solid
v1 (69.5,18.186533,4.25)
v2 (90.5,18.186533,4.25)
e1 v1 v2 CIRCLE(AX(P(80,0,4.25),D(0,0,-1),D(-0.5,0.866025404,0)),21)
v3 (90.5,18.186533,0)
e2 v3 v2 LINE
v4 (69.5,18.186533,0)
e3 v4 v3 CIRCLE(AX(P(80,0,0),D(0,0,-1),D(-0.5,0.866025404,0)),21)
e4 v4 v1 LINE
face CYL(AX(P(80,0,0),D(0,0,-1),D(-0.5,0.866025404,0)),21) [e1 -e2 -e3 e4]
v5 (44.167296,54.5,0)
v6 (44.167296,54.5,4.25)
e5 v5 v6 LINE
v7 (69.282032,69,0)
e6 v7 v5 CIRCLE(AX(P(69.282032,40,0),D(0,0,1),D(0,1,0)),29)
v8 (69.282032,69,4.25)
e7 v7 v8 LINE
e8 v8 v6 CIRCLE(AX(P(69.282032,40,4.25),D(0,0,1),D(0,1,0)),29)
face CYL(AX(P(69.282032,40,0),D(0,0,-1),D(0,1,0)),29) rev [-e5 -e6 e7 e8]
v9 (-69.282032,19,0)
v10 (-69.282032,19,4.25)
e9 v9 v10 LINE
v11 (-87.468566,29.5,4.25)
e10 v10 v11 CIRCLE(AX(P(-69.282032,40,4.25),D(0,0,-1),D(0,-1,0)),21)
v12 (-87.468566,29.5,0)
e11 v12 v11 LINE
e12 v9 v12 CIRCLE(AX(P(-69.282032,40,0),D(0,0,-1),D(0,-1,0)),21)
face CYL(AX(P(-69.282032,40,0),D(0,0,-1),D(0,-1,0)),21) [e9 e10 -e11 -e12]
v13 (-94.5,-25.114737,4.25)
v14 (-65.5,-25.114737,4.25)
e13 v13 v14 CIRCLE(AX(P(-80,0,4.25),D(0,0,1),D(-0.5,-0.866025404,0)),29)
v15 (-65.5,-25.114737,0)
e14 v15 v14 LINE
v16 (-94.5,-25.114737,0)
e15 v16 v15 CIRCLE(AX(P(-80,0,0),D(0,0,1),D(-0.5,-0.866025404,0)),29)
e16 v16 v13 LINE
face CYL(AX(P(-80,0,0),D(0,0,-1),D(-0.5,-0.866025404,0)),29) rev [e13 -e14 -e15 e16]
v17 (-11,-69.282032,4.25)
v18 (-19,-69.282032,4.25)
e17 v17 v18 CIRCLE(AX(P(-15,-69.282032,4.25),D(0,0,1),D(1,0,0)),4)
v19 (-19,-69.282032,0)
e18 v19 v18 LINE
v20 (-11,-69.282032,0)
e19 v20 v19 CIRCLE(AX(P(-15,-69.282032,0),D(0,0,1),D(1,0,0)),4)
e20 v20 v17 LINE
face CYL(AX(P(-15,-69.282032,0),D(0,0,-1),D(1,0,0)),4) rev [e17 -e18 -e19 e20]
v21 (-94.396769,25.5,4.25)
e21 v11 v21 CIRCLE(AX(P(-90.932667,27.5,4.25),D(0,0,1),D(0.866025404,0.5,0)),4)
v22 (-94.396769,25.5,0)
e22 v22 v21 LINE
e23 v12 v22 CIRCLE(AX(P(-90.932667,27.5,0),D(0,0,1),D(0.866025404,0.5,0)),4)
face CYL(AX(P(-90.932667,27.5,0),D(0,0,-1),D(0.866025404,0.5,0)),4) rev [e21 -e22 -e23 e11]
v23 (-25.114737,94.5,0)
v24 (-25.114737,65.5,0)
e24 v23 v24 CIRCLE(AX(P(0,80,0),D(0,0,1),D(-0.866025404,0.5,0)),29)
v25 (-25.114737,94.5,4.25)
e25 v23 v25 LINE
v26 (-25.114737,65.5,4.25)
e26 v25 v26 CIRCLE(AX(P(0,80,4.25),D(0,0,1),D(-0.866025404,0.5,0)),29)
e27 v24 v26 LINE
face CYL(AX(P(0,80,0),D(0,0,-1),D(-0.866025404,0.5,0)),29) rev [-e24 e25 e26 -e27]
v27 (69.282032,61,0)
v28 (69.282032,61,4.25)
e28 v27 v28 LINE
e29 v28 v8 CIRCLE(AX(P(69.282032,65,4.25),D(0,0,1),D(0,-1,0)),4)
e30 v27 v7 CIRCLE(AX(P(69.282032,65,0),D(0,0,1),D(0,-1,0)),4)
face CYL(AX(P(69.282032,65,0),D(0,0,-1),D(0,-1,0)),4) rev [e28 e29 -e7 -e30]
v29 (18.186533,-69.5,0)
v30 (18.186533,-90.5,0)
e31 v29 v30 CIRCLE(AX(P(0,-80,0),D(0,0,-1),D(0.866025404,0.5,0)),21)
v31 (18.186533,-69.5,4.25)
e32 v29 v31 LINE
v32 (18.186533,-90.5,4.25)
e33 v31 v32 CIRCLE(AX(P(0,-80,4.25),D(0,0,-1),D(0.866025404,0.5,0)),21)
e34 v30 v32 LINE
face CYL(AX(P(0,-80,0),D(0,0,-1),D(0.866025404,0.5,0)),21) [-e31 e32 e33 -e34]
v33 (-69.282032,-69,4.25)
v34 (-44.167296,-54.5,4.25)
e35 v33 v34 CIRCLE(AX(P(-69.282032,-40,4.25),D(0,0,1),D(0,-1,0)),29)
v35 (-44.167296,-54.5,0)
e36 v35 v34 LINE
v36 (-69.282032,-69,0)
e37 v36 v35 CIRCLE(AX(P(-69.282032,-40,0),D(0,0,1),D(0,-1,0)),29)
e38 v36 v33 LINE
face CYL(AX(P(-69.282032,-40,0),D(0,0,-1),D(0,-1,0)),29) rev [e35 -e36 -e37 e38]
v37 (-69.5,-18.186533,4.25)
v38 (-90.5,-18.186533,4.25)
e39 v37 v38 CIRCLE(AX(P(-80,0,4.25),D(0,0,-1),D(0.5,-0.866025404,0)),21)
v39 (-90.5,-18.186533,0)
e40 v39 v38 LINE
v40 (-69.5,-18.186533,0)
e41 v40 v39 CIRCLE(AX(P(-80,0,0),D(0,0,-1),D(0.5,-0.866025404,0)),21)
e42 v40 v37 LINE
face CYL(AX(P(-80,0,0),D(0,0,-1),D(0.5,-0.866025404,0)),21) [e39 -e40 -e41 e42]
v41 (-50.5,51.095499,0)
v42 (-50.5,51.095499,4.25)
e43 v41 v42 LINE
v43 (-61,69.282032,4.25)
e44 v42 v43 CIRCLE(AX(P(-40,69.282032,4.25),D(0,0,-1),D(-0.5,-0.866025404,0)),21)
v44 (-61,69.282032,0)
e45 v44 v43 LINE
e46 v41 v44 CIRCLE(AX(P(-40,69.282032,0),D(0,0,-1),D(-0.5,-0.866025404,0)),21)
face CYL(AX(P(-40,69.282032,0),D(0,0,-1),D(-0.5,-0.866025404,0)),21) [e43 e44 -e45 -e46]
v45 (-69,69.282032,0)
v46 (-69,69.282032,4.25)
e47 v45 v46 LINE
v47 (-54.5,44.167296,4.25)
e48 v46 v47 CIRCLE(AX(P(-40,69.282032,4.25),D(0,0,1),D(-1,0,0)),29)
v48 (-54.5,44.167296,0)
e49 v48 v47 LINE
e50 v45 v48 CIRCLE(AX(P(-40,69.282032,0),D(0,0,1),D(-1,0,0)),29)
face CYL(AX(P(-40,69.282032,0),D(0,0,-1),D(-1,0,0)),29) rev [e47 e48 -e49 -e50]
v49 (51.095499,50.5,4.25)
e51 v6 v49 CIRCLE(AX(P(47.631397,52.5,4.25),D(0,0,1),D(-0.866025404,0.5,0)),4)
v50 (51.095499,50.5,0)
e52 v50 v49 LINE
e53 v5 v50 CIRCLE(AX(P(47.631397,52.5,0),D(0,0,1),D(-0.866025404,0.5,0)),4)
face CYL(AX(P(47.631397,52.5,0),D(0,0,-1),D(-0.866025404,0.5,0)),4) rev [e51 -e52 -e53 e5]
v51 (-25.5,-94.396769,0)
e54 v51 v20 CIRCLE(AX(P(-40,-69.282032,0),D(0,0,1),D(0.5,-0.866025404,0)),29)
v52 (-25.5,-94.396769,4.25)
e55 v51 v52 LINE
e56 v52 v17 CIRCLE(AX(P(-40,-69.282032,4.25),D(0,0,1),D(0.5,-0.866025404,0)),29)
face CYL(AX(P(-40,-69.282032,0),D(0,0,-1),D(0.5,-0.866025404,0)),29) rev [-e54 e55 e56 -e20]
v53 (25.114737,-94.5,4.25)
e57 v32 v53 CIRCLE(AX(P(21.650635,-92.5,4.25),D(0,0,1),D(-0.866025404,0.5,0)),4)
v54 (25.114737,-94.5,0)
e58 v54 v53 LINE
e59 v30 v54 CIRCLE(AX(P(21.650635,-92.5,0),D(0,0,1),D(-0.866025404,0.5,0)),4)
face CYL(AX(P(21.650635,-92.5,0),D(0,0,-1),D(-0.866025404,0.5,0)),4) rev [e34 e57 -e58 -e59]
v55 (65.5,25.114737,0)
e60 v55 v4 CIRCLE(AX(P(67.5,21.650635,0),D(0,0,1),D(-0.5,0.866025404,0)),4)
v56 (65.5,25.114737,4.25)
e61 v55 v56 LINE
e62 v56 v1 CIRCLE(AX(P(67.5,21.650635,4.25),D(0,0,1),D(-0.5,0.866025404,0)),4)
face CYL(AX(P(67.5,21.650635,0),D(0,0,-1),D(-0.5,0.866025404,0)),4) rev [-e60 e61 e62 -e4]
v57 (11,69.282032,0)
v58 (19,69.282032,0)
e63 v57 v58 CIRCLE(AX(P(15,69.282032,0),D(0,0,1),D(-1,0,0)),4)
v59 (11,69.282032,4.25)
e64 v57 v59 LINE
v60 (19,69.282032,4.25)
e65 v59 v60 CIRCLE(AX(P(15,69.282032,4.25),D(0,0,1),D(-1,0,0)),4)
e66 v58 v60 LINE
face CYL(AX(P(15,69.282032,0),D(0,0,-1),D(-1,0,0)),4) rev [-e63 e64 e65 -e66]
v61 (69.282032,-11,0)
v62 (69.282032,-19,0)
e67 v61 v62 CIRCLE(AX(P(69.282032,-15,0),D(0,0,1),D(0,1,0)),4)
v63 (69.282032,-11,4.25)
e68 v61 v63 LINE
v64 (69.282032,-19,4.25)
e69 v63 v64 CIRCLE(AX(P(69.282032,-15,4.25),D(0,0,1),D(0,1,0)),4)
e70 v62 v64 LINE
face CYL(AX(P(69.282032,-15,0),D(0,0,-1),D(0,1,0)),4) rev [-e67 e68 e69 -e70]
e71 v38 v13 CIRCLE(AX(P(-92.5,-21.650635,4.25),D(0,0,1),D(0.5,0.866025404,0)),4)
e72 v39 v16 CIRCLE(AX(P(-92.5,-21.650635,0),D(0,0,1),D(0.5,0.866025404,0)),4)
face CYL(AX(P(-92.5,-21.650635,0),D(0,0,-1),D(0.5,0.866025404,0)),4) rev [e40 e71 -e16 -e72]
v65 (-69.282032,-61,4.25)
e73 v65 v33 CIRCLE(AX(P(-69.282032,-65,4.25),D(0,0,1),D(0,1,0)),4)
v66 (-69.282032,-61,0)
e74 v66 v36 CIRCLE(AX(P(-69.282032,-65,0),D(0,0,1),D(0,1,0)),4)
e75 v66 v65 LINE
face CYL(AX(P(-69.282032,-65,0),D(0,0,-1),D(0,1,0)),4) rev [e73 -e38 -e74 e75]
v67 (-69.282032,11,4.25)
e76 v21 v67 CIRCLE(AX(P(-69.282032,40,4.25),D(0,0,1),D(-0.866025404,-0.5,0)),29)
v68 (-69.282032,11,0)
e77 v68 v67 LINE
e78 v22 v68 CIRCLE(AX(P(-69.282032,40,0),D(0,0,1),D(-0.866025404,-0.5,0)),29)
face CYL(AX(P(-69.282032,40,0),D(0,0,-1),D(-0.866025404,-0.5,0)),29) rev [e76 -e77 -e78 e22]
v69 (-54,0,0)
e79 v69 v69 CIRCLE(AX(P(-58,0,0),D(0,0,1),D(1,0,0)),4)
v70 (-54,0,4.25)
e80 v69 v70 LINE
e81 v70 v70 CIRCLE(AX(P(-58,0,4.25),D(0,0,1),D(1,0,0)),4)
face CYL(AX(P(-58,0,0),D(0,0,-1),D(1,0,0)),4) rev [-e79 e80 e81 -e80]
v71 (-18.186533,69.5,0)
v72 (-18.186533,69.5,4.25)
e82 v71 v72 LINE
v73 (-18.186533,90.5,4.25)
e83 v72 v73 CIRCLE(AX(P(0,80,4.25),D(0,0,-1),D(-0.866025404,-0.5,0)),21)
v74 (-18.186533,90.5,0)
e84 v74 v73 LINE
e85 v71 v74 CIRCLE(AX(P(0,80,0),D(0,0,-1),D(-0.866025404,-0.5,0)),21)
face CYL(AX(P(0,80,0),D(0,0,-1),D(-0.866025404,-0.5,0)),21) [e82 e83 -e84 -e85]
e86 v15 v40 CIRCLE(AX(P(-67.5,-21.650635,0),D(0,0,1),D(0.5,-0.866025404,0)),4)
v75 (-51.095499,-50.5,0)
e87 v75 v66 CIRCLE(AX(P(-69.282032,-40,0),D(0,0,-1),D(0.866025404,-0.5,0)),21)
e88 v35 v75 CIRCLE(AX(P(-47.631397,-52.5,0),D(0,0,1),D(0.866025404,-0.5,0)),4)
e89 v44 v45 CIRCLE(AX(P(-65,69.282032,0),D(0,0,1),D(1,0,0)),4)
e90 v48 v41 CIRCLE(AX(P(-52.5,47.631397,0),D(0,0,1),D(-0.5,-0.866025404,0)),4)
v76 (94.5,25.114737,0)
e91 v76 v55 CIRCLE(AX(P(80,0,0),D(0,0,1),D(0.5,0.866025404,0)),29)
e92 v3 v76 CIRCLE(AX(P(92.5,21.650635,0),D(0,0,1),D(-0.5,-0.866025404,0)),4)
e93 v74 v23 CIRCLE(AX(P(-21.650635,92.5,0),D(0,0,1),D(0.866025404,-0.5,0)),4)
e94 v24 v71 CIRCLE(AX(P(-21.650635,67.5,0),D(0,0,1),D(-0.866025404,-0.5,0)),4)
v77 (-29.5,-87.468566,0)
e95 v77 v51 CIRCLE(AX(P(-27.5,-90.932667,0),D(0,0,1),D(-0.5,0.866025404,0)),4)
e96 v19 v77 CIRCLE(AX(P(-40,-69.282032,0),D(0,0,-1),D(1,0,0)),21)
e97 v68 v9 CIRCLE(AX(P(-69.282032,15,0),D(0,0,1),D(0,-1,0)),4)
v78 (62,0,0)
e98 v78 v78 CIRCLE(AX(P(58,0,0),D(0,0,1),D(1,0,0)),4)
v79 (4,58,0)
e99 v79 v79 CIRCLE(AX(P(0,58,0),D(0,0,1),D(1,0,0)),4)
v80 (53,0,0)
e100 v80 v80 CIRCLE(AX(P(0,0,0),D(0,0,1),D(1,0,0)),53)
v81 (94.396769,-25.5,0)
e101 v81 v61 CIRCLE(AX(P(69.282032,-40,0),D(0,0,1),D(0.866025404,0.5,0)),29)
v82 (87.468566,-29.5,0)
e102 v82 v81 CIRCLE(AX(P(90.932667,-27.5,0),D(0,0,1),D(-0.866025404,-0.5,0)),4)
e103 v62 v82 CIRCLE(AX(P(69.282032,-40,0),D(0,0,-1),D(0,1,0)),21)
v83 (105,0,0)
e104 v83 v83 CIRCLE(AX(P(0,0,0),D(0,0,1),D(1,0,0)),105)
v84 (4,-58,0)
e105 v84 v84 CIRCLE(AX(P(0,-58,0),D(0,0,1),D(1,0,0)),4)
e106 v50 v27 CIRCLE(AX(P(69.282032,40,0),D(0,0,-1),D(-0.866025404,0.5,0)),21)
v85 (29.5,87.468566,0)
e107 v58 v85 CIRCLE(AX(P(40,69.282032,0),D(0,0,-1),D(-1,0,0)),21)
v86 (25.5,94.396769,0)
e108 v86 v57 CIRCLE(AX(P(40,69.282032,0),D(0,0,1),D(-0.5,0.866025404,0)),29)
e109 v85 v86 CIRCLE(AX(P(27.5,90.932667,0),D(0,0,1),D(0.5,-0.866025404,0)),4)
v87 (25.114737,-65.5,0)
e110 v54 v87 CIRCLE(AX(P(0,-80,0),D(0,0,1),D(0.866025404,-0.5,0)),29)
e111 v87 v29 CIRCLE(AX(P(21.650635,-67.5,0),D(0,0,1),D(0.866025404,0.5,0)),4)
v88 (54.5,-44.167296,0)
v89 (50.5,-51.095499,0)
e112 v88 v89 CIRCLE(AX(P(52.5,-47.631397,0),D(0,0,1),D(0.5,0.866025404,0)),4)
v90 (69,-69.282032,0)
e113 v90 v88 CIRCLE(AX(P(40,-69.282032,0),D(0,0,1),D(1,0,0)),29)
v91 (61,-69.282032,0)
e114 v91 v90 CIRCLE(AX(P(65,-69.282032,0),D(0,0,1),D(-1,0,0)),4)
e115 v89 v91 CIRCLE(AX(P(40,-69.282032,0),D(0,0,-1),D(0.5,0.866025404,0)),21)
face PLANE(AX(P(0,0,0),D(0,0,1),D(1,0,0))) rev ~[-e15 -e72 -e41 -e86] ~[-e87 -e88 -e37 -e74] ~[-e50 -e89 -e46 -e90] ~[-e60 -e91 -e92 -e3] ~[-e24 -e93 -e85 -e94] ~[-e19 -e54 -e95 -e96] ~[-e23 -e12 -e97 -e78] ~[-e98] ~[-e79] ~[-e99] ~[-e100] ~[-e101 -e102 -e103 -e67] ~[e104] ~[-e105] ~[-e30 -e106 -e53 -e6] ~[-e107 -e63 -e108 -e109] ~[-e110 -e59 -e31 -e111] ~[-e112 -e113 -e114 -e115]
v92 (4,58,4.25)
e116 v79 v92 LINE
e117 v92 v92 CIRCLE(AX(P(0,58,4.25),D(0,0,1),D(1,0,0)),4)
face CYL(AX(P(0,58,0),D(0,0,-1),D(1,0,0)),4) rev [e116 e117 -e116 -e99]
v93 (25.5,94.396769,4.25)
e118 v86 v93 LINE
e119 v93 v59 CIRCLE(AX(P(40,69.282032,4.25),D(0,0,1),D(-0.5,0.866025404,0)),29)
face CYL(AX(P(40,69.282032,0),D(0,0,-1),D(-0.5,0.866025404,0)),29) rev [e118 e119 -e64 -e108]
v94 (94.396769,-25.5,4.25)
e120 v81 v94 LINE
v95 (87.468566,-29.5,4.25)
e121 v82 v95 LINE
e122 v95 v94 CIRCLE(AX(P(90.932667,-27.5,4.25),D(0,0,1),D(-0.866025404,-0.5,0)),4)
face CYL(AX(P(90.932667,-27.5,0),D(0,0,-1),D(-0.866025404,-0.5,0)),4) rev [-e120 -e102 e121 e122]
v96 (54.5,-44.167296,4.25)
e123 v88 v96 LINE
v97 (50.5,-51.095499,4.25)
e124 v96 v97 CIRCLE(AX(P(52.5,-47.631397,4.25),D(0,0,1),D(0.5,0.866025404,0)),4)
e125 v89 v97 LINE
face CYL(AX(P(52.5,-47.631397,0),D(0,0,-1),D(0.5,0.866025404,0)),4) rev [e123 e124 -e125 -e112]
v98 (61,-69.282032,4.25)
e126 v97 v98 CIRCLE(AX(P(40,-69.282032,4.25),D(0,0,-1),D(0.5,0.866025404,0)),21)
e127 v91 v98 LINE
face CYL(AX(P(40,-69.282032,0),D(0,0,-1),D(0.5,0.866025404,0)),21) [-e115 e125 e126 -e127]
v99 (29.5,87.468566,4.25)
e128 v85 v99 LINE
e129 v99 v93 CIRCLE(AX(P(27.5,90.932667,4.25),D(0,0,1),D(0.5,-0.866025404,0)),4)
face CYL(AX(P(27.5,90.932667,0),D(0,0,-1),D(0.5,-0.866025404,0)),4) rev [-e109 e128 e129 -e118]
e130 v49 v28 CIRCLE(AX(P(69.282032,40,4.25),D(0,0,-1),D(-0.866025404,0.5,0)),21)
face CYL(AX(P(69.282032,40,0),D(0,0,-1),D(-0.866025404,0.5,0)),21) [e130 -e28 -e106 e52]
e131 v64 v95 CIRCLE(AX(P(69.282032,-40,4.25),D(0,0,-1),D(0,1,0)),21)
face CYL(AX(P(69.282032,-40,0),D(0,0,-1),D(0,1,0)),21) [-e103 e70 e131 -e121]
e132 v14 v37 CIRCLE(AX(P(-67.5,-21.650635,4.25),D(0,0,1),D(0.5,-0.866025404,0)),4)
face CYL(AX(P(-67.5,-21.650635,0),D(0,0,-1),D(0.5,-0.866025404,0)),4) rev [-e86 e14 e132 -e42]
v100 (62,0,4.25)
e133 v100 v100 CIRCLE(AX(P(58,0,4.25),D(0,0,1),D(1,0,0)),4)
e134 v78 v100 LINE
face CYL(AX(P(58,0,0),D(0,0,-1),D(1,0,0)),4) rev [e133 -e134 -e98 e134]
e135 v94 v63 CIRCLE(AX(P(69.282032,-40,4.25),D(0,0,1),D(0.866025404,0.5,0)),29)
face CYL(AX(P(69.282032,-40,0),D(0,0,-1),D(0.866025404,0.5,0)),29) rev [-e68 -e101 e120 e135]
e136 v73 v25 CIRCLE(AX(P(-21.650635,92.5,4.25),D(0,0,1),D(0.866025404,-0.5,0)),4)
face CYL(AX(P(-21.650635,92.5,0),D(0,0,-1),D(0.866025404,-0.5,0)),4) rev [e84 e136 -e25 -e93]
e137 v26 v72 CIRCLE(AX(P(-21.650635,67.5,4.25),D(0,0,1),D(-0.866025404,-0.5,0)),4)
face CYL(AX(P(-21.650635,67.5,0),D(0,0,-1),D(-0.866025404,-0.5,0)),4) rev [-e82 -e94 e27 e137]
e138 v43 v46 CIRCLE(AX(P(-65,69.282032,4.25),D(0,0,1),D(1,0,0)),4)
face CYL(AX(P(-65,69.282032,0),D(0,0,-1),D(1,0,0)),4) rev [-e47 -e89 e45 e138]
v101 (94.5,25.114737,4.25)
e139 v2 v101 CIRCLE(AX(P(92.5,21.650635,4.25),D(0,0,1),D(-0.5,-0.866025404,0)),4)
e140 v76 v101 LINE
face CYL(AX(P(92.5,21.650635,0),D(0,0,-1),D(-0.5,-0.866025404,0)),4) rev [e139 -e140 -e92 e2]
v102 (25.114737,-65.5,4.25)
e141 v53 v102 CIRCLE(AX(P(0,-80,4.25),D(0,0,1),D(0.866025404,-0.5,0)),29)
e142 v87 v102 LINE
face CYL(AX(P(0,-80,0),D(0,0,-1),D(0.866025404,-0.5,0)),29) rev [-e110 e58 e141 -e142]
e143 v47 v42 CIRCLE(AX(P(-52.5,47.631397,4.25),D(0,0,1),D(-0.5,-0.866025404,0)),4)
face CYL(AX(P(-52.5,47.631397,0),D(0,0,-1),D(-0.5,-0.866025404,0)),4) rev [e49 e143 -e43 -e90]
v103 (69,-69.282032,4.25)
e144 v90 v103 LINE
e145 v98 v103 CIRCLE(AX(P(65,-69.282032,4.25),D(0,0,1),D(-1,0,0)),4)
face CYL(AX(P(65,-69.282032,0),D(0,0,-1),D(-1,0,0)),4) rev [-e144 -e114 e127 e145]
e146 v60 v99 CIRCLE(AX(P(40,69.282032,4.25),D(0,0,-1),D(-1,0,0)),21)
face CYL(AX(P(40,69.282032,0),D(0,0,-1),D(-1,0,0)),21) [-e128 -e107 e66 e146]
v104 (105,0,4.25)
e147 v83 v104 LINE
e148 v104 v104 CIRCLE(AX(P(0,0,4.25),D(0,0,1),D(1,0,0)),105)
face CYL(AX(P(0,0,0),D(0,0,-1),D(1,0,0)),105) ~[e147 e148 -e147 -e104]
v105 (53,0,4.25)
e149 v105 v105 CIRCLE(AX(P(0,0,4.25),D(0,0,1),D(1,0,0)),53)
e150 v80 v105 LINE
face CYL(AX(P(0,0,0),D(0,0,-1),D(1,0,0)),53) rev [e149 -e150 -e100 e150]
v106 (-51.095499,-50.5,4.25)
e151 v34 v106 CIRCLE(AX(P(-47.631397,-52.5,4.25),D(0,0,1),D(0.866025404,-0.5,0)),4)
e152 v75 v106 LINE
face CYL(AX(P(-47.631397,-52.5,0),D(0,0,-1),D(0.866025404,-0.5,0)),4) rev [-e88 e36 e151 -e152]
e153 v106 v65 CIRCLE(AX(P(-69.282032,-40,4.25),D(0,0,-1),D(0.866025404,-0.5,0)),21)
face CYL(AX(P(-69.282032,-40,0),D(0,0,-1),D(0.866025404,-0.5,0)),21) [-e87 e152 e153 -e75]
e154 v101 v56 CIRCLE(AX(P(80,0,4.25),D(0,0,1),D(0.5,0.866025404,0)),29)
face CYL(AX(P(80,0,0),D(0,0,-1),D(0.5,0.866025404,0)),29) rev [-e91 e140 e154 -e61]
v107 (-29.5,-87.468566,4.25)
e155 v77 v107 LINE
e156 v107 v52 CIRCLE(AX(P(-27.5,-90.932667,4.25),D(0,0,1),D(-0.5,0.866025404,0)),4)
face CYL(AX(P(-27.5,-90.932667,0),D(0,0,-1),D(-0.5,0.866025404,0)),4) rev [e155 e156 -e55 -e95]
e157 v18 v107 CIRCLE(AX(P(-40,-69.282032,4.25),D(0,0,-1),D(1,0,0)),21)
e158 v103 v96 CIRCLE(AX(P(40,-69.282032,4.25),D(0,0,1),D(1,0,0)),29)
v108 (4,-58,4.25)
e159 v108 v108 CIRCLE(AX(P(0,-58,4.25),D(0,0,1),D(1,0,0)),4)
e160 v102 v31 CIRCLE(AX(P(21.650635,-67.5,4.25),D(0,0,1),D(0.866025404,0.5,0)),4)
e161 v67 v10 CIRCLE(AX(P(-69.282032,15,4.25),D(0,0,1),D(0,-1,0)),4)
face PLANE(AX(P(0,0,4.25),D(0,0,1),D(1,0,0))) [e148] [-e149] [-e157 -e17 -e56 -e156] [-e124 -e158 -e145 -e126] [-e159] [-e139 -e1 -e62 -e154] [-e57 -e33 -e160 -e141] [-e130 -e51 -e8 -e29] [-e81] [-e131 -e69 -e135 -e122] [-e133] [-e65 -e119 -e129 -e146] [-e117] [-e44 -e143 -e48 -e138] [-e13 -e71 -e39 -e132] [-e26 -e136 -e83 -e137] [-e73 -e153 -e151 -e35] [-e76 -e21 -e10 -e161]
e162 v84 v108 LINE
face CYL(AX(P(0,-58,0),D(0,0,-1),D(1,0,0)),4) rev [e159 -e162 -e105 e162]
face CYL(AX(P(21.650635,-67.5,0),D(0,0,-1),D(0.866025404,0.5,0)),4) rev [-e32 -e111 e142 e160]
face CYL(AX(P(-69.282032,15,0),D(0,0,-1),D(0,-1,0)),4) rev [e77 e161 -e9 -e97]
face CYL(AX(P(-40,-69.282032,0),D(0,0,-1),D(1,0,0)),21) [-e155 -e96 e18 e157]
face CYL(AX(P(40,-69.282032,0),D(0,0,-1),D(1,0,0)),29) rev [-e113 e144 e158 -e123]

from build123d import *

# Parameters (mm, degrees)
SKETCH1_R           = 105
SKETCH1_R_2         = 53
SKETCH1_R_3         = 4
BOSS_EXTRUDE1_DEPTH = 4.25


with BuildPart() as part:
    # Sketch1 → Boss-Extrude1 (new body)
    with BuildSketch(Plane.XY):
        Circle(SKETCH1_R)
        Circle(SKETCH1_R_2, mode=Mode.SUBTRACT)
        with Locations((0, 58)):
            Circle(SKETCH1_R_3, mode=Mode.SUBTRACT)
        with Locations((58, 0)):
            Circle(SKETCH1_R_3, mode=Mode.SUBTRACT)
        with Locations((0, -58)):
            Circle(SKETCH1_R_3, mode=Mode.SUBTRACT)
        with Locations((-58, 0)):
            Circle(SKETCH1_R_3, mode=Mode.SUBTRACT)
        with BuildLine():
            ThreePointArc((94.5, 25.11473671), (80, 29), (65.5, 25.11473671))
            ThreePointArc((65.5, 25.11473671), (64.035898385, 19.650635095), (69.5, 18.186533479))
            ThreePointArc((69.5, 18.186533479), (80, 21), (90.5, 18.186533479))
            ThreePointArc((90.5, 18.186533479), (95.964101615, 19.650635095), (94.5, 25.11473671))
        make_face(mode=Mode.SUBTRACT)
        with BuildLine():
            ThreePointArc((94.396769013, -25.5), (83.782032303, -14.88526329), (69.282032303, -11))
            ThreePointArc((69.282032303, -11), (65.282032303, -15), (69.282032303, -19))
            ThreePointArc((69.282032303, -19), (79.782032303, -21.813466521), (87.468565782, -29.5))
            ThreePointArc((87.468565782, -29.5), (92.932667397, -30.964101615), (94.396769013, -25.5))
        make_face(mode=Mode.SUBTRACT)
        with BuildLine():
            ThreePointArc((69, -69.282032303), (65.11473671, -54.782032303), (54.5, -44.167295593))
            ThreePointArc((54.5, -44.167295593), (49.035898385, -45.631397208), (50.5, -51.095498823))
            ThreePointArc((50.5, -51.095498823), (58.186533479, -58.782032303), (61, -69.282032303))
            ThreePointArc((61, -69.282032303), (65, -73.282032303), (69, -69.282032303))
        make_face(mode=Mode.SUBTRACT)
        with BuildLine():
            ThreePointArc((25.11473671, -94.5), (29, -80), (25.11473671, -65.5))
            ThreePointArc((25.11473671, -65.5), (19.650635095, -64.035898385), (18.186533479, -69.5))
            ThreePointArc((18.186533479, -69.5), (21, -80), (18.186533479, -90.5))
            ThreePointArc((18.186533479, -90.5), (19.650635095, -95.964101615), (25.11473671, -94.5))
        make_face(mode=Mode.SUBTRACT)
        with BuildLine():
            ThreePointArc((-25.5, -94.396769013), (-14.88526329, -83.782032303), (-11, -69.282032303))
            ThreePointArc((-11, -69.282032303), (-15, -65.282032303), (-19, -69.282032303))
            ThreePointArc((-19, -69.282032303), (-21.813466521, -79.782032303), (-29.5, -87.468565782))
            ThreePointArc((-29.5, -87.468565782), (-30.964101615, -92.932667397), (-25.5, -94.396769013))
        make_face(mode=Mode.SUBTRACT)
        with BuildLine():
            ThreePointArc((-69.282032303, -69), (-54.782032303, -65.11473671), (-44.167295593, -54.5))
            ThreePointArc((-44.167295593, -54.5), (-45.631397208, -49.035898385), (-51.095498823, -50.5))
            ThreePointArc((-51.095498823, -50.5), (-58.782032303, -58.186533479), (-69.282032303, -61))
            ThreePointArc((-69.282032303, -61), (-73.282032303, -65), (-69.282032303, -69))
        make_face(mode=Mode.SUBTRACT)
        with BuildLine():
            ThreePointArc((-94.5, -25.11473671), (-80, -29), (-65.5, -25.11473671))
            ThreePointArc((-65.5, -25.11473671), (-64.035898385, -19.650635095), (-69.5, -18.186533479))
            ThreePointArc((-69.5, -18.186533479), (-80, -21), (-90.5, -18.186533479))
            ThreePointArc((-90.5, -18.186533479), (-95.964101615, -19.650635095), (-94.5, -25.11473671))
        make_face(mode=Mode.SUBTRACT)
        with BuildLine():
            ThreePointArc((-94.396769013, 25.5), (-83.782032303, 14.88526329), (-69.282032303, 11))
            ThreePointArc((-69.282032303, 11), (-65.282032303, 15), (-69.282032303, 19))
            ThreePointArc((-69.282032303, 19), (-79.782032303, 21.813466521), (-87.468565782, 29.5))
            ThreePointArc((-87.468565782, 29.5), (-92.932667397, 30.964101615), (-94.396769013, 25.5))
        make_face(mode=Mode.SUBTRACT)
        with BuildLine():
            ThreePointArc((-69, 69.282032303), (-65.11473671, 54.782032303), (-54.5, 44.167295593))
            ThreePointArc((-54.5, 44.167295593), (-49.035898385, 45.631397208), (-50.5, 51.095498823))
            ThreePointArc((-50.5, 51.095498823), (-58.186533479, 58.782032303), (-61, 69.282032303))
            ThreePointArc((-61, 69.282032303), (-65, 73.282032303), (-69, 69.282032303))
        make_face(mode=Mode.SUBTRACT)
        with BuildLine():
            ThreePointArc((-25.11473671, 94.5), (-29, 80), (-25.11473671, 65.5))
            ThreePointArc((-25.11473671, 65.5), (-19.650635095, 64.035898385), (-18.186533479, 69.5))
            ThreePointArc((-18.186533479, 69.5), (-21, 80), (-18.186533479, 90.5))
            ThreePointArc((-18.186533479, 90.5), (-19.650635095, 95.964101615), (-25.11473671, 94.5))
        make_face(mode=Mode.SUBTRACT)
        with BuildLine():
            ThreePointArc((25.5, 94.396769013), (14.88526329, 83.782032303), (11, 69.282032303))
            ThreePointArc((11, 69.282032303), (15, 65.282032303), (19, 69.282032303))
            ThreePointArc((19, 69.282032303), (21.813466521, 79.782032303), (29.5, 87.468565782))
            ThreePointArc((29.5, 87.468565782), (30.964101615, 92.932667397), (25.5, 94.396769013))
        make_face(mode=Mode.SUBTRACT)
        with BuildLine():
            ThreePointArc((69.282032303, 69), (54.782032303, 65.11473671), (44.167295593, 54.5))
            ThreePointArc((44.167295593, 54.5), (45.631397208, 49.035898385), (51.095498823, 50.5))
            ThreePointArc((51.095498823, 50.5), (58.782032303, 58.186533479), (69.282032303, 61))
            ThreePointArc((69.282032303, 61), (73.282032303, 65), (69.282032303, 69))
        make_face(mode=Mode.SUBTRACT)
    extrude(amount=BOSS_EXTRUDE1_DEPTH)


solid = part.part
